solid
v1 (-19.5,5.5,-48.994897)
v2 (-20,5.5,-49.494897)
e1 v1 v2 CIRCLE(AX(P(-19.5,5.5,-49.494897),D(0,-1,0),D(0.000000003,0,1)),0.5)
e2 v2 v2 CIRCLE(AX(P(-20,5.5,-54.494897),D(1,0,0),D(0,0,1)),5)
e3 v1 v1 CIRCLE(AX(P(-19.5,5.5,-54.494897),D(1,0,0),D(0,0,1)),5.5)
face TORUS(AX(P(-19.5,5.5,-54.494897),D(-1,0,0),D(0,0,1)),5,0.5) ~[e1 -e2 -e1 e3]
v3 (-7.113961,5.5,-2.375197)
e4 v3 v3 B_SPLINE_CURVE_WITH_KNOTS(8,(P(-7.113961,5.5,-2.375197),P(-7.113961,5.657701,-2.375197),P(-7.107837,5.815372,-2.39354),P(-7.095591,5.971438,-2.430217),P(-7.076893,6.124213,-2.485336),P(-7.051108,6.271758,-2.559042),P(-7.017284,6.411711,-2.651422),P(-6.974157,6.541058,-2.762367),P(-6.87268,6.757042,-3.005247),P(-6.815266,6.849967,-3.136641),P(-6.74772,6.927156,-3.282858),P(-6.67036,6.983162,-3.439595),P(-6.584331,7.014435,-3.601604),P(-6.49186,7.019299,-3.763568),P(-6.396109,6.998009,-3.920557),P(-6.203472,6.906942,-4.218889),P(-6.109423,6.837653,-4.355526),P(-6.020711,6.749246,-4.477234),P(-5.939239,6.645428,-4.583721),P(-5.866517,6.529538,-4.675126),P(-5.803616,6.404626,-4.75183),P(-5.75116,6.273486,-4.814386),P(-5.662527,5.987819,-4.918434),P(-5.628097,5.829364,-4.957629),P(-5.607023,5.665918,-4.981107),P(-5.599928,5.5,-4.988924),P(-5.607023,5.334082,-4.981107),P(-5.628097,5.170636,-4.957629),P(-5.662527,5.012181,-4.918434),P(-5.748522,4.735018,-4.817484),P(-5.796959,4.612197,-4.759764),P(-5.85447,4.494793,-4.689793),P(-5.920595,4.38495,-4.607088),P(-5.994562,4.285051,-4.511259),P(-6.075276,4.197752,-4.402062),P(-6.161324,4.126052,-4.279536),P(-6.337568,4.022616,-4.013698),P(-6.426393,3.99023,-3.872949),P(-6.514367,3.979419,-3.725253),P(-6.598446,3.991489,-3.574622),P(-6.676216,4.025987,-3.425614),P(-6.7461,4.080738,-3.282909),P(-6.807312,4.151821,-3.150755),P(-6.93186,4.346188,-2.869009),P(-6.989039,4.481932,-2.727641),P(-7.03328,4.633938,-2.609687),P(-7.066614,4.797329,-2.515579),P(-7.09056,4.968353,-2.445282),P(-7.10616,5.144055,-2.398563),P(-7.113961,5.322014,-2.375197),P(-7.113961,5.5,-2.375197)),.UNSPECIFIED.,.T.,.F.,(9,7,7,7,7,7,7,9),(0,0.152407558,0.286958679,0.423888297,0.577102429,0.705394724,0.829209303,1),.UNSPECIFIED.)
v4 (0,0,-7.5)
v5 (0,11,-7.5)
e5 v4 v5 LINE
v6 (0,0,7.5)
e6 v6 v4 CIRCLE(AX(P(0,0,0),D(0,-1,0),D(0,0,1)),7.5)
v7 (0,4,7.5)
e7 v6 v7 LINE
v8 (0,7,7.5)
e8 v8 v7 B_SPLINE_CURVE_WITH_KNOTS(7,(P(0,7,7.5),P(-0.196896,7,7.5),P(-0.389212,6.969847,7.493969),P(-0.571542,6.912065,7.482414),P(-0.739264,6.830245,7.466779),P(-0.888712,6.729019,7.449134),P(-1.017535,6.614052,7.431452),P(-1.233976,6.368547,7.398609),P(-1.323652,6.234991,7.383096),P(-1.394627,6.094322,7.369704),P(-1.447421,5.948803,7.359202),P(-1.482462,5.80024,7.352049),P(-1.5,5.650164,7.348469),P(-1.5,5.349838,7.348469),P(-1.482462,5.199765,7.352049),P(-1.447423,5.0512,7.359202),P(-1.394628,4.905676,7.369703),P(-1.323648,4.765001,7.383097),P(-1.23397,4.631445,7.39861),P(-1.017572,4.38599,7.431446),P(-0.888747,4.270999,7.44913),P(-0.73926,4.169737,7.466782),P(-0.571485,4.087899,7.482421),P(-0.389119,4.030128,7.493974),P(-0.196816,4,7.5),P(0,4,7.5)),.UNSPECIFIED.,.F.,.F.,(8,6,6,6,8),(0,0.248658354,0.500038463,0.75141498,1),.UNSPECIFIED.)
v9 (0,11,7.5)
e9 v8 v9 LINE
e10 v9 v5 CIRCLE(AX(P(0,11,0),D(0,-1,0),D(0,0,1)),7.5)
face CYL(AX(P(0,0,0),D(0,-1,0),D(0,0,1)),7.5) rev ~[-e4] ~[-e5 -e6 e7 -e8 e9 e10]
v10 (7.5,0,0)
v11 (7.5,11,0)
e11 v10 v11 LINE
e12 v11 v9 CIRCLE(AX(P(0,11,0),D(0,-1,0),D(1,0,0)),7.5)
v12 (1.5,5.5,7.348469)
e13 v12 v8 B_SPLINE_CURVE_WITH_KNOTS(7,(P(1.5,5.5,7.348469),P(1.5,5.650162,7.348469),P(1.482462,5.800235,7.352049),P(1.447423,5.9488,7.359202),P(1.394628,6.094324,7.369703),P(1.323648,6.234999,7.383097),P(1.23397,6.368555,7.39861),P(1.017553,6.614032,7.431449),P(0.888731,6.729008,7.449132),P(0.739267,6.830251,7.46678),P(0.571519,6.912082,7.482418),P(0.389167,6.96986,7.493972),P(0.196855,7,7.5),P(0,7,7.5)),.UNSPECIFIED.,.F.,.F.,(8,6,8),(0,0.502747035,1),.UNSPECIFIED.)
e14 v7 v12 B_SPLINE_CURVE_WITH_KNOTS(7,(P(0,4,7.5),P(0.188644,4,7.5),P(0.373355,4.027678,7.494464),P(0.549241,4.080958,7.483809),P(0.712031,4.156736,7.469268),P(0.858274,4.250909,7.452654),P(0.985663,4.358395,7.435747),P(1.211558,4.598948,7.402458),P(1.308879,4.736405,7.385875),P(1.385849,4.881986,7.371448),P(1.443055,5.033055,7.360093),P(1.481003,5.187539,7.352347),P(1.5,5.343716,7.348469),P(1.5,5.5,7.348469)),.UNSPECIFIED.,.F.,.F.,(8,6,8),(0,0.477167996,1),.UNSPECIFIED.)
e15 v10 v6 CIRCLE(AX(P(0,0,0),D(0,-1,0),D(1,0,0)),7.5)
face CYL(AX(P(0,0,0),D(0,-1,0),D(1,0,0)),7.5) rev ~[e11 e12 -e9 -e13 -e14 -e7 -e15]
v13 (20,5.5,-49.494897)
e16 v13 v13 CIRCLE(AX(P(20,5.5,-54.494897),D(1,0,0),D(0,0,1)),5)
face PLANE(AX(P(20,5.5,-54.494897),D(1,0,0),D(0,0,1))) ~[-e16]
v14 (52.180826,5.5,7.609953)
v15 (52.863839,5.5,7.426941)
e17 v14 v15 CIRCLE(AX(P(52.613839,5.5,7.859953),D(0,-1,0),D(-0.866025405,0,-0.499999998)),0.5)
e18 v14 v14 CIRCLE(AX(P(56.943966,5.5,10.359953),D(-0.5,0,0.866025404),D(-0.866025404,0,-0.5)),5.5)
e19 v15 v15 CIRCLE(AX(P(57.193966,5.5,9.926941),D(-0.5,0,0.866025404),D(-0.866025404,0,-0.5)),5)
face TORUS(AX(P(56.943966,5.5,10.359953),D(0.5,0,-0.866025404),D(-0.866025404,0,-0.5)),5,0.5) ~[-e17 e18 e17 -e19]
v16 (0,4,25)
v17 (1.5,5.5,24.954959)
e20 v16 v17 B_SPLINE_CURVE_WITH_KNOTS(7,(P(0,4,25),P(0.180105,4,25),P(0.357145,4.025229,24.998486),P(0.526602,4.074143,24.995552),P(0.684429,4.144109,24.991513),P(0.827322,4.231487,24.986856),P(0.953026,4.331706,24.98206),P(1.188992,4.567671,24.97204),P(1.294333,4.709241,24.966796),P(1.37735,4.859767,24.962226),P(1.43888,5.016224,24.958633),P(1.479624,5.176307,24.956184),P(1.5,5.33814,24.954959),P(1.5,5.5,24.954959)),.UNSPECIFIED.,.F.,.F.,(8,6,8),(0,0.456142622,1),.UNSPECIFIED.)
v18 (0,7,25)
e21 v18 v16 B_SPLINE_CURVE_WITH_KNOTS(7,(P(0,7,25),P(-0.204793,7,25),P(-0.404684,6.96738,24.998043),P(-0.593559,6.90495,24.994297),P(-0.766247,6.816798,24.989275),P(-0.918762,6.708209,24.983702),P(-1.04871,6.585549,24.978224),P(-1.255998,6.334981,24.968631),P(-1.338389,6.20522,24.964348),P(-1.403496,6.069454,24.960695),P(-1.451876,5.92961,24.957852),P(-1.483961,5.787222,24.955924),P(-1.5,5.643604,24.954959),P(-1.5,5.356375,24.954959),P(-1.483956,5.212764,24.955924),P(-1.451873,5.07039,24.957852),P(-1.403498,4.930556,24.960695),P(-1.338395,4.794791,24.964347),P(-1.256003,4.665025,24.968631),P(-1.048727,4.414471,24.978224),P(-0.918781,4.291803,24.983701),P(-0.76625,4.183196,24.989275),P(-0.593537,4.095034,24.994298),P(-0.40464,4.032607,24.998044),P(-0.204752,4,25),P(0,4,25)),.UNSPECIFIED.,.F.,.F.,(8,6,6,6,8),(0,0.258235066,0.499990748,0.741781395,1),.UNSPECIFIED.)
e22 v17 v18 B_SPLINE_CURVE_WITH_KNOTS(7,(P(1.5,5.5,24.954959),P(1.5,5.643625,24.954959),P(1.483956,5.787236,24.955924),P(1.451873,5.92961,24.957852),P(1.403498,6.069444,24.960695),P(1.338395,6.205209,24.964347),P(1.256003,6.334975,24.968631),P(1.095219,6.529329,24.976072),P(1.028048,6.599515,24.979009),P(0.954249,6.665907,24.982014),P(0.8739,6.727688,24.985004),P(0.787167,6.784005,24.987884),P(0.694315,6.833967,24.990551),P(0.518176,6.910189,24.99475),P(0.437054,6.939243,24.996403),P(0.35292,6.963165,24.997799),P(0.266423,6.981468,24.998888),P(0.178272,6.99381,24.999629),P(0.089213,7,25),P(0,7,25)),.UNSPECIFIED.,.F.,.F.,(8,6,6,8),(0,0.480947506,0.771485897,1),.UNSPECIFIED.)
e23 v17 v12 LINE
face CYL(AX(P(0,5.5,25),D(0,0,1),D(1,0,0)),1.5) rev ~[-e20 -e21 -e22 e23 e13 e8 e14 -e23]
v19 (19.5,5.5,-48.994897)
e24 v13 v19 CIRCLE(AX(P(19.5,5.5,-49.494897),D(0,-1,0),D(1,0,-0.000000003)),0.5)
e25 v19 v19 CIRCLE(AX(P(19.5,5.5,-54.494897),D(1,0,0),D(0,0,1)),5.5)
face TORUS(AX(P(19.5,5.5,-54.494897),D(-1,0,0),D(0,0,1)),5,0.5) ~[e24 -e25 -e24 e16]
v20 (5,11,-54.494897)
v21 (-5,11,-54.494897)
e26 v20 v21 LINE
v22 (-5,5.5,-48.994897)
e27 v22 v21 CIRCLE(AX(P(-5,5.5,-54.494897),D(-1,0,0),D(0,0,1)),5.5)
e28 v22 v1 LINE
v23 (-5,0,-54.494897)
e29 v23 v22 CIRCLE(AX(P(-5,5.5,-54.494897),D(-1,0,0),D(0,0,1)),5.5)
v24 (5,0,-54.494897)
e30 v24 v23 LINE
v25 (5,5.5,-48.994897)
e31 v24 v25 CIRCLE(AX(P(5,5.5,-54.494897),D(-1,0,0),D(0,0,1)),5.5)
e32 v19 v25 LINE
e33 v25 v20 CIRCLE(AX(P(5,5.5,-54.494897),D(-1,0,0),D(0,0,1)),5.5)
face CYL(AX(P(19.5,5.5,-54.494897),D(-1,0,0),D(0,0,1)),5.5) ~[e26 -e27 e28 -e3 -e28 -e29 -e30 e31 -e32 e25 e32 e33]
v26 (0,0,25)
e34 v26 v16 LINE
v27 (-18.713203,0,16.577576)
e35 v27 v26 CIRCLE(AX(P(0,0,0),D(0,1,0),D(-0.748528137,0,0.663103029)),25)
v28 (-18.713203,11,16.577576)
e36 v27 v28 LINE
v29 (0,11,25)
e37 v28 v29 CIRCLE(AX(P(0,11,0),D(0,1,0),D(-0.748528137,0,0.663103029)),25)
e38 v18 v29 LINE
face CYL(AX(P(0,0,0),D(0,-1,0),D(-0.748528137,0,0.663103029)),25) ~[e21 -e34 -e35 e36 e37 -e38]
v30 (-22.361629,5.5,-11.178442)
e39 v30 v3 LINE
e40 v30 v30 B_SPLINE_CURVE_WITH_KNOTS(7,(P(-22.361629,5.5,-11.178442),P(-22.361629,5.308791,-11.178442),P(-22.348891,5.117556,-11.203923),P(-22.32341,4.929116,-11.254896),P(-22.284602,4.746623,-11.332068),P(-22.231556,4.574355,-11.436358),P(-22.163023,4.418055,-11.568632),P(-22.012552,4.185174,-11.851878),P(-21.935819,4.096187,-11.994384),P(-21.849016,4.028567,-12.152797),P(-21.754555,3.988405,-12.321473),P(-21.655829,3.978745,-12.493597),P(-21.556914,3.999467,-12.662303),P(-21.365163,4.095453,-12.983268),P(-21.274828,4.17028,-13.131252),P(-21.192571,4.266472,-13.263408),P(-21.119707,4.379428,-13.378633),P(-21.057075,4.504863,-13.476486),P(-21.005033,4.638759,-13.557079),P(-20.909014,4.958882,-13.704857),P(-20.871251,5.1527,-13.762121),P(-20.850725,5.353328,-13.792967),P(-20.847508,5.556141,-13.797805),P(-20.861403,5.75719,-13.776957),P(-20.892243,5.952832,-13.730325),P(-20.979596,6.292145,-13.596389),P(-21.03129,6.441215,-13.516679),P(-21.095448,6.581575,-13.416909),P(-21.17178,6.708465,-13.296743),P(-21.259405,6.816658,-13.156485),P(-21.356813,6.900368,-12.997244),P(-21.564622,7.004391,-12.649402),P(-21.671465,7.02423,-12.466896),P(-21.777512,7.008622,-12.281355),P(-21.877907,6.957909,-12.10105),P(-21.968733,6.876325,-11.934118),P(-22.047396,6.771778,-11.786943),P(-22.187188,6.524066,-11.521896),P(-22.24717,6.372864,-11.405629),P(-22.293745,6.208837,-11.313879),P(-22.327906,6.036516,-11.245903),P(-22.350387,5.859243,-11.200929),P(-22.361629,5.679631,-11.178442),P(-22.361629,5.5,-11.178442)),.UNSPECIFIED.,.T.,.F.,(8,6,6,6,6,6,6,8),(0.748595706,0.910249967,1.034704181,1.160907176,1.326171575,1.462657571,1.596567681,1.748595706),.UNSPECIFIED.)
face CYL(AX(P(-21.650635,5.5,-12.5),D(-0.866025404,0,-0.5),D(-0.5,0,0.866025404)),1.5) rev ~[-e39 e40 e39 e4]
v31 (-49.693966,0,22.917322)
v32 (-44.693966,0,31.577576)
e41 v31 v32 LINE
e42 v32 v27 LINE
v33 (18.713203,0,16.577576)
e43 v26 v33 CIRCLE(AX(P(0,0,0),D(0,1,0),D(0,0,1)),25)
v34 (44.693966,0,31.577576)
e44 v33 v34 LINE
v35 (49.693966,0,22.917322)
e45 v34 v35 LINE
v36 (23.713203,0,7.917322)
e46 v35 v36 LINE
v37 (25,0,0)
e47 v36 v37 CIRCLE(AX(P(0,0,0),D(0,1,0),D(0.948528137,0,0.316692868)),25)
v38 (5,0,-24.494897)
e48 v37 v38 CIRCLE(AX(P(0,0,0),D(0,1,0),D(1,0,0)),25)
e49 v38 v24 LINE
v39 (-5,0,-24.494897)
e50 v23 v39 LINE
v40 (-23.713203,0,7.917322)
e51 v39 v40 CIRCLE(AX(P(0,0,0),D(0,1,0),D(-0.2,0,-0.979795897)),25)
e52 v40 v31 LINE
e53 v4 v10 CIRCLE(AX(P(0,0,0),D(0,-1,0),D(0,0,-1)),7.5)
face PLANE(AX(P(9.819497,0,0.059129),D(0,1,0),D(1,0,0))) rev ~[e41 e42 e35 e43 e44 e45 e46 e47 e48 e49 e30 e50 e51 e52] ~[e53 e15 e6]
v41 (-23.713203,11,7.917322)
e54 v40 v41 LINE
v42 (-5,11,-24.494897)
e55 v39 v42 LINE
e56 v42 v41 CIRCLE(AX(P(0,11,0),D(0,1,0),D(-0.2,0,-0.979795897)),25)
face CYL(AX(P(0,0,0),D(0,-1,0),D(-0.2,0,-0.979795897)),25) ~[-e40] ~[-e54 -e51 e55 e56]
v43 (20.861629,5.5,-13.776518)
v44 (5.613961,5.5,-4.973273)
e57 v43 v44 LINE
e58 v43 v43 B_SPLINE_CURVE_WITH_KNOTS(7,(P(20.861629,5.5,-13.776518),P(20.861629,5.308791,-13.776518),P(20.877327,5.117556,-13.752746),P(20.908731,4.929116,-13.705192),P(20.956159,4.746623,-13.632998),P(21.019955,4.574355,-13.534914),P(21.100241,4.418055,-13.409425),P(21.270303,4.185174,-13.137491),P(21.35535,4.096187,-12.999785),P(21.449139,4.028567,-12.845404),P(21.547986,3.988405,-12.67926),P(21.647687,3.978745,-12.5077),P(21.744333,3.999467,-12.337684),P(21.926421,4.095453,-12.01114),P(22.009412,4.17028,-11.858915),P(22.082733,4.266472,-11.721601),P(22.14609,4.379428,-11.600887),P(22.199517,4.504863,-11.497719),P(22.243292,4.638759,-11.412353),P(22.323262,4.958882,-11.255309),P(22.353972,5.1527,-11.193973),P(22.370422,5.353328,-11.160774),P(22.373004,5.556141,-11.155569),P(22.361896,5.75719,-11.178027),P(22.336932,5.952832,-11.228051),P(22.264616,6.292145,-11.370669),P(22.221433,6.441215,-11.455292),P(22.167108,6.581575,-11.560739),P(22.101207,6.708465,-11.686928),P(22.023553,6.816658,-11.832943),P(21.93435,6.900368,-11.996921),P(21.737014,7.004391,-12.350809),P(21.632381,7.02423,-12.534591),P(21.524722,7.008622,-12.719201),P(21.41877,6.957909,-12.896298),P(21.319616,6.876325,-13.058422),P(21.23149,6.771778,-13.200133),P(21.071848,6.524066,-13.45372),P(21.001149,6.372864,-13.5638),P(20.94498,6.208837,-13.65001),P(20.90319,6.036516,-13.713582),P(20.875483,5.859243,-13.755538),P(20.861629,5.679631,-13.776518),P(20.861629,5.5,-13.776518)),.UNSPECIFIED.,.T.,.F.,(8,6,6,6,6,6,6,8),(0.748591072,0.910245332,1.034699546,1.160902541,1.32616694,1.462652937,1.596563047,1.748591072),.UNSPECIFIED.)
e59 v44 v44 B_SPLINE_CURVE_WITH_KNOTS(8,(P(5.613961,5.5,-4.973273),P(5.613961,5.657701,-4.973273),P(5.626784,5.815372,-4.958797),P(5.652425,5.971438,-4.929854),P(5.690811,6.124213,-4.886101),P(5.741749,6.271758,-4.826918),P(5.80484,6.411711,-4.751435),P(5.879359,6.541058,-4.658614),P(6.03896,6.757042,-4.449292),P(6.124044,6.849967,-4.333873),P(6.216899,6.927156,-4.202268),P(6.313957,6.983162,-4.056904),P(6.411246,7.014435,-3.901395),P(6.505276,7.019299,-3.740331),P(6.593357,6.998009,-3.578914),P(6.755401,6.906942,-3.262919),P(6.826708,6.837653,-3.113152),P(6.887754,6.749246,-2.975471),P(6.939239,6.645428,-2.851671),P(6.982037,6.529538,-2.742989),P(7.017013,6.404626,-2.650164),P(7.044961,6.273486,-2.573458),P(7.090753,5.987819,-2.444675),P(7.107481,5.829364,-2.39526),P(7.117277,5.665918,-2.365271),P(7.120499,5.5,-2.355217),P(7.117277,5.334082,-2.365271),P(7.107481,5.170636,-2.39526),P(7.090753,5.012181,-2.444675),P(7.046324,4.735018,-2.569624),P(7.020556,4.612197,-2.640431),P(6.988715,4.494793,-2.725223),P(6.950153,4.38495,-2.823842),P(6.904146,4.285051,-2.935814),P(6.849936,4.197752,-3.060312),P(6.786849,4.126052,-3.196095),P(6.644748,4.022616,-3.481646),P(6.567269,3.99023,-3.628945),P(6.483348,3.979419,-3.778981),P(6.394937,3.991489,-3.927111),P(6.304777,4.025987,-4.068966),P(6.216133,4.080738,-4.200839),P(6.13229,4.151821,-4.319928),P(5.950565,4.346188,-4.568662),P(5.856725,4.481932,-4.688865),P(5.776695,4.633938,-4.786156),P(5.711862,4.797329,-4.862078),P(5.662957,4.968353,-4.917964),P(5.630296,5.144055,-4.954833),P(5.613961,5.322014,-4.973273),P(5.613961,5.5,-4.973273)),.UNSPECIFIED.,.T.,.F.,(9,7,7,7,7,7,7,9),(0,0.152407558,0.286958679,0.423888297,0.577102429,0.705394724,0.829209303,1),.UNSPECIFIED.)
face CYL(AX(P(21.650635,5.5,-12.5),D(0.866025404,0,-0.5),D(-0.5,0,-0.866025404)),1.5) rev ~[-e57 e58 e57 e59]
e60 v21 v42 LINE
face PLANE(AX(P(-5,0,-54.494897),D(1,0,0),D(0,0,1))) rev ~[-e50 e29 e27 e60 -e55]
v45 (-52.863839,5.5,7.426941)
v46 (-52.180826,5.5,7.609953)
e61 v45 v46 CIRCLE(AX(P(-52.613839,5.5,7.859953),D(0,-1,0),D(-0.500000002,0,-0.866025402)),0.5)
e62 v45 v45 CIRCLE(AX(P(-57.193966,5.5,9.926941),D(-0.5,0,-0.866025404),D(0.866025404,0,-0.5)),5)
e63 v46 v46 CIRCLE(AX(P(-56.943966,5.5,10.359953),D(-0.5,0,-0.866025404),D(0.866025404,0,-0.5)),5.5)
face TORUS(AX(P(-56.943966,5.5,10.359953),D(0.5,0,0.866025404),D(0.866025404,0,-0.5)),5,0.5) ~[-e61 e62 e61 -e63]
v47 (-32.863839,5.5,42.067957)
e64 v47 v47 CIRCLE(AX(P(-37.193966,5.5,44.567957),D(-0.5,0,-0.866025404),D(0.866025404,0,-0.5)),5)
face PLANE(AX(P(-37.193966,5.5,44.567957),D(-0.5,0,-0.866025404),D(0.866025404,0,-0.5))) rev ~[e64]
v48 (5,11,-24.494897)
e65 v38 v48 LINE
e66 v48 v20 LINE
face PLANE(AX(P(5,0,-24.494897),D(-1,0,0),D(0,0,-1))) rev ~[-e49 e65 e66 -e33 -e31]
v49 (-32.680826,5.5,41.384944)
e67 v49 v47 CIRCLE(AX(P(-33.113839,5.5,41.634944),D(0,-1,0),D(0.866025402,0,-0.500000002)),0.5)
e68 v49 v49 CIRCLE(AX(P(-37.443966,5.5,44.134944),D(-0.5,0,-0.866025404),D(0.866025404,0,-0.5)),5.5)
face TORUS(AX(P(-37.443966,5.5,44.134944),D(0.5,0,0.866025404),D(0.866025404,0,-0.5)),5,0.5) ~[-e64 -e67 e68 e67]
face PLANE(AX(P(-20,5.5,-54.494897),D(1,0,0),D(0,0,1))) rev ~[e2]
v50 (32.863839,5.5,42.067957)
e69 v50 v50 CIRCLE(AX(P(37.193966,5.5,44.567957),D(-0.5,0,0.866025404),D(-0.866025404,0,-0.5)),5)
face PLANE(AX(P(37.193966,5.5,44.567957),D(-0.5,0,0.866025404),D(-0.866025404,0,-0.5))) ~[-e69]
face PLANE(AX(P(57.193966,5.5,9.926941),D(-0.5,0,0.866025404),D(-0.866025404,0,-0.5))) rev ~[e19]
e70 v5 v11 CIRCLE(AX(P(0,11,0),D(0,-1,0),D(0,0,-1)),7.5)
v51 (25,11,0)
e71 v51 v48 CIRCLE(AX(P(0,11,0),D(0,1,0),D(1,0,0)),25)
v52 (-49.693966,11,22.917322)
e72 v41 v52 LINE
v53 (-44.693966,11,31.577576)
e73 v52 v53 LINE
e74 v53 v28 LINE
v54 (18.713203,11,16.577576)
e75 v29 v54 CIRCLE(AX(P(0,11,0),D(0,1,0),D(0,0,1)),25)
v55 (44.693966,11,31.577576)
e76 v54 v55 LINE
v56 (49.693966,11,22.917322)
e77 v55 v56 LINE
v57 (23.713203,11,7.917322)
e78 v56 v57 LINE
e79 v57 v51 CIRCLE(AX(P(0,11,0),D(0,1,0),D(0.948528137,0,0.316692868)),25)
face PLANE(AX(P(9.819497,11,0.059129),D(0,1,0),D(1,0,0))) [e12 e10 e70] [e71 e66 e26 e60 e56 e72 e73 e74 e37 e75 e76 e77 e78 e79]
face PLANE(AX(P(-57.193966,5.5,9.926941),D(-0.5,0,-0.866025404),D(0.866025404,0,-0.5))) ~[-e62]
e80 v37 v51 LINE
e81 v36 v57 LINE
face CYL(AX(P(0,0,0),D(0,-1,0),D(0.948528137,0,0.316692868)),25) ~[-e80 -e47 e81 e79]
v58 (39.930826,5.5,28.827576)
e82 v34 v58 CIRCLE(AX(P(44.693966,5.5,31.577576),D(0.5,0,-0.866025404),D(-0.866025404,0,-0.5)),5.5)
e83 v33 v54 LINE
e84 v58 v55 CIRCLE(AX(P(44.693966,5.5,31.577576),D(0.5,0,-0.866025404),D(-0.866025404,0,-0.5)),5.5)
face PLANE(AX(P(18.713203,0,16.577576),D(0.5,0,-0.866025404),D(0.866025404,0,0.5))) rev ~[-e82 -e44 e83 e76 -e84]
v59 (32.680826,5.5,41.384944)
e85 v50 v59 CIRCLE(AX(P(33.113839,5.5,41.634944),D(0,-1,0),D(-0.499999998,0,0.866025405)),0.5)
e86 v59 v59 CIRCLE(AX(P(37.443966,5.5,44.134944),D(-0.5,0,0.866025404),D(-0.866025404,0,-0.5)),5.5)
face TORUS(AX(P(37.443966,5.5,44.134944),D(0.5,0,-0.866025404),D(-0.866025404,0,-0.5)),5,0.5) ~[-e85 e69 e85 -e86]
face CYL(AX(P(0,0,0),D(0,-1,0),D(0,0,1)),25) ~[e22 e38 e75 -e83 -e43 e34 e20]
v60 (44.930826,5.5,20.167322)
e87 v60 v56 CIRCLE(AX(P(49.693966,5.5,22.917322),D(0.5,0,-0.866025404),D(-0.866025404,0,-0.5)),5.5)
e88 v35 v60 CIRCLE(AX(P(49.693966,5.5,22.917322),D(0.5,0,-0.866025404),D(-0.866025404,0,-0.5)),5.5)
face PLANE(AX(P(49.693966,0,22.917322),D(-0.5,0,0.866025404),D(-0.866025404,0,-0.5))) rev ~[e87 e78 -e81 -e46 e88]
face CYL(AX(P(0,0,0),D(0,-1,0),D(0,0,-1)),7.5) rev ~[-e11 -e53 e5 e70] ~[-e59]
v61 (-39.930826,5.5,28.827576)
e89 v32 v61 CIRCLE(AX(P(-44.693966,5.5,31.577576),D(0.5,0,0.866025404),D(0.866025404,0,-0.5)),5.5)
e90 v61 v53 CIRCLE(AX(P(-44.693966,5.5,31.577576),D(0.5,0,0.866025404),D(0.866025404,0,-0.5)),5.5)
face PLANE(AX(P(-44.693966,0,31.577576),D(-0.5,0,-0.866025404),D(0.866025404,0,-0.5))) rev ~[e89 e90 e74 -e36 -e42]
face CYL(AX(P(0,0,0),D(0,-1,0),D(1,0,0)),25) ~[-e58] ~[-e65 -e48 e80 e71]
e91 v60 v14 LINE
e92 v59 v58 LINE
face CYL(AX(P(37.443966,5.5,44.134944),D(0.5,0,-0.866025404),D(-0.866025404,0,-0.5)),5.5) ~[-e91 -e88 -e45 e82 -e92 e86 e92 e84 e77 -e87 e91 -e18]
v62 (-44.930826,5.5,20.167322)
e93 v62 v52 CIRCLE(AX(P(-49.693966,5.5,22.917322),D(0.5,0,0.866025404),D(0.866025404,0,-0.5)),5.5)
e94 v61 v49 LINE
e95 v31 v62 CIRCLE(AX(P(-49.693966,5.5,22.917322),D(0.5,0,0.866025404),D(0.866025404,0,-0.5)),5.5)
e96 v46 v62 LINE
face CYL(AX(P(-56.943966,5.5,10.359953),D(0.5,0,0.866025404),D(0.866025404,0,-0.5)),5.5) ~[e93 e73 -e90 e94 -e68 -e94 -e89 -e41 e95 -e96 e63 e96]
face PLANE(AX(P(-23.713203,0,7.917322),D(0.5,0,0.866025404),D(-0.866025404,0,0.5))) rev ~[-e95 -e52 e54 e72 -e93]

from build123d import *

# Parameters (mm, degrees)
BOSS_EXTRUDE1_DEPTH = 11
CIRPATTERN1_COUNT   = 3
SKETCH4_R           = 1.5
CUT_EXTRUDE1_DEPTH  = 20
CIRPATTERN3_COUNT   = 3


with BuildPart() as part:
    # Sketch1 → Boss-Extrude1 (new body)
    with BuildSketch(Plane(origin=(0, 0, 0), x_dir=(1, 0, 0), z_dir=(0, 1, 0))):
        with BuildLine():
            ThreePointArc((5, 24.494897428), (2.51272405, 24.873403825), (0, 25))
            Line((0, 25), (0, 7.5))
            ThreePointArc((0, 7.5), (5.303300859, 5.303300859), (7.5, 0))
            ThreePointArc((7.5, 0), (5.303300859, -5.303300859), (0, -7.5))
            Line((0, -7.5), (0, -25))
            ThreePointArc((0, -25), (10.260619052, -22.797361616), (18.713203436, -16.577575733))
            ThreePointArc((18.713203436, -16.577575733), (21.650635095, -12.5), (23.713203436, -7.917321695))
            ThreePointArc((23.713203436, -7.917321695), (24.676203982, -4.010605572), (25, 0))
            ThreePointArc((25, 0), (19.364916731, 15.811388301), (5, 24.494897428))
        make_face()
        with BuildLine():
            Line((0, 7.5), (0, 25))
            ThreePointArc((0, 25), (-2.51272405, 24.873403825), (-5, 24.494897428))
            ThreePointArc((-5, 24.494897428), (-21.650635095, 12.5), (-23.713203436, -7.917321695))
            ThreePointArc((-23.713203436, -7.917321695), (-21.650635095, -12.5), (-18.713203436, -16.577575733))
            ThreePointArc((-18.713203436, -16.577575733), (-10.260619052, -22.797361616), (0, -25))
            Line((0, -25), (0, -7.5))
            ThreePointArc((0, -7.5), (-7.5, 0), (0, 7.5))
        make_face()
        with BuildLine():
            Line((5, 54.494897428), (0, 54.494897428))
            Line((0, 54.494897428), (0, 25))
            ThreePointArc((0, 25), (2.51272405, 24.873403825), (5, 24.494897428))
            Line((5, 24.494897428), (5, 54.494897428))
        make_face()
        with BuildLine():
            Line((0, 25), (0, 54.494897428))
            Line((0, 54.494897428), (-5, 54.494897428))
            Line((-5, 54.494897428), (-5, 24.494897428))
            ThreePointArc((-5, 24.494897428), (-2.51272405, 24.873403825), (0, 25))
        make_face()
        with BuildLine():
            Line((49.693965549, -22.917321695), (23.713203436, -7.917321695))
            ThreePointArc((23.713203436, -7.917321695), (21.650635095, -12.5), (18.713203436, -16.577575733))
            Line((18.713203436, -16.577575733), (44.693965549, -31.577575733))
            Line((44.693965549, -31.577575733), (49.693965549, -22.917321695))
        make_face()
        with BuildLine():
            ThreePointArc((-18.713203436, -16.577575733), (-21.650635095, -12.5), (-23.713203436, -7.917321695))
            Line((-23.713203436, -7.917321695), (-49.693965549, -22.917321695))
            Line((-49.693965549, -22.917321695), (-44.693965549, -31.577575733))
            Line((-44.693965549, -31.577575733), (-18.713203436, -16.577575733))
        make_face()
    extrude(amount=BOSS_EXTRUDE1_DEPTH)

    # Sketch2 → Revolve1 (revolve)
    with BuildSketch(Plane(origin=(47.193965549, 0, 27.247448714), x_dir=(0.5000000000000038, 0, -0.8660254037844366), z_dir=(0.8660254037844365, 0, 0.5000000000000037)), mode=Mode.PRIVATE) as revolve1_sk:
        with BuildLine():
            Line((-19.5, 0), (19.5, 0))
            ThreePointArc((19.5, 0), (19.853553391, 0.146446609), (20, 0.5))
            Line((20, 0.5), (20, 5.5))
            Line((20, 5.5), (-20, 5.5))
            Line((-20, 5.5), (-20, 0.5))
            ThreePointArc((-20, 0.5), (-19.853553391, 0.146446609), (-19.5, 0))
        make_face()
    revolve1 = revolve(revolve1_sk.sketch.rotate(Axis((57.193965549, 5.5, 9.926940638), (-0.5000000000000036, 0, 0.8660254037844366)), 270), axis=Axis((57.193965549, 5.5, 9.926940638), (-0.5000000000000036, 0, 0.8660254037844366)))

    # CirPattern1: Revolve1 ×3 about axis
    cirpattern1_axis = Axis((0, 0, 0), (0, 1, 0))
    for i in range(1, CIRPATTERN1_COUNT):
        add(revolve1.rotate(cirpattern1_axis, i * 360 / CIRPATTERN1_COUNT))

    # Sketch4 → Cut-Extrude1 (cut)
    with BuildSketch(Plane.XY.offset(25)):
        with Locations((0, 5.5)):
            Circle(SKETCH4_R)
    cut_extrude1 = extrude(amount=-CUT_EXTRUDE1_DEPTH, mode=Mode.SUBTRACT)

    # CirPattern3: Cut-Extrude1 ×3 about axis
    cirpattern3_axis = Axis((0, 11, 0), (0, 1, 0))
    for i in range(1, CIRPATTERN3_COUNT):
        add(cut_extrude1.rotate(cirpattern3_axis, i * 360 / CIRPATTERN3_COUNT), mode=Mode.SUBTRACT)


solid = part.part
